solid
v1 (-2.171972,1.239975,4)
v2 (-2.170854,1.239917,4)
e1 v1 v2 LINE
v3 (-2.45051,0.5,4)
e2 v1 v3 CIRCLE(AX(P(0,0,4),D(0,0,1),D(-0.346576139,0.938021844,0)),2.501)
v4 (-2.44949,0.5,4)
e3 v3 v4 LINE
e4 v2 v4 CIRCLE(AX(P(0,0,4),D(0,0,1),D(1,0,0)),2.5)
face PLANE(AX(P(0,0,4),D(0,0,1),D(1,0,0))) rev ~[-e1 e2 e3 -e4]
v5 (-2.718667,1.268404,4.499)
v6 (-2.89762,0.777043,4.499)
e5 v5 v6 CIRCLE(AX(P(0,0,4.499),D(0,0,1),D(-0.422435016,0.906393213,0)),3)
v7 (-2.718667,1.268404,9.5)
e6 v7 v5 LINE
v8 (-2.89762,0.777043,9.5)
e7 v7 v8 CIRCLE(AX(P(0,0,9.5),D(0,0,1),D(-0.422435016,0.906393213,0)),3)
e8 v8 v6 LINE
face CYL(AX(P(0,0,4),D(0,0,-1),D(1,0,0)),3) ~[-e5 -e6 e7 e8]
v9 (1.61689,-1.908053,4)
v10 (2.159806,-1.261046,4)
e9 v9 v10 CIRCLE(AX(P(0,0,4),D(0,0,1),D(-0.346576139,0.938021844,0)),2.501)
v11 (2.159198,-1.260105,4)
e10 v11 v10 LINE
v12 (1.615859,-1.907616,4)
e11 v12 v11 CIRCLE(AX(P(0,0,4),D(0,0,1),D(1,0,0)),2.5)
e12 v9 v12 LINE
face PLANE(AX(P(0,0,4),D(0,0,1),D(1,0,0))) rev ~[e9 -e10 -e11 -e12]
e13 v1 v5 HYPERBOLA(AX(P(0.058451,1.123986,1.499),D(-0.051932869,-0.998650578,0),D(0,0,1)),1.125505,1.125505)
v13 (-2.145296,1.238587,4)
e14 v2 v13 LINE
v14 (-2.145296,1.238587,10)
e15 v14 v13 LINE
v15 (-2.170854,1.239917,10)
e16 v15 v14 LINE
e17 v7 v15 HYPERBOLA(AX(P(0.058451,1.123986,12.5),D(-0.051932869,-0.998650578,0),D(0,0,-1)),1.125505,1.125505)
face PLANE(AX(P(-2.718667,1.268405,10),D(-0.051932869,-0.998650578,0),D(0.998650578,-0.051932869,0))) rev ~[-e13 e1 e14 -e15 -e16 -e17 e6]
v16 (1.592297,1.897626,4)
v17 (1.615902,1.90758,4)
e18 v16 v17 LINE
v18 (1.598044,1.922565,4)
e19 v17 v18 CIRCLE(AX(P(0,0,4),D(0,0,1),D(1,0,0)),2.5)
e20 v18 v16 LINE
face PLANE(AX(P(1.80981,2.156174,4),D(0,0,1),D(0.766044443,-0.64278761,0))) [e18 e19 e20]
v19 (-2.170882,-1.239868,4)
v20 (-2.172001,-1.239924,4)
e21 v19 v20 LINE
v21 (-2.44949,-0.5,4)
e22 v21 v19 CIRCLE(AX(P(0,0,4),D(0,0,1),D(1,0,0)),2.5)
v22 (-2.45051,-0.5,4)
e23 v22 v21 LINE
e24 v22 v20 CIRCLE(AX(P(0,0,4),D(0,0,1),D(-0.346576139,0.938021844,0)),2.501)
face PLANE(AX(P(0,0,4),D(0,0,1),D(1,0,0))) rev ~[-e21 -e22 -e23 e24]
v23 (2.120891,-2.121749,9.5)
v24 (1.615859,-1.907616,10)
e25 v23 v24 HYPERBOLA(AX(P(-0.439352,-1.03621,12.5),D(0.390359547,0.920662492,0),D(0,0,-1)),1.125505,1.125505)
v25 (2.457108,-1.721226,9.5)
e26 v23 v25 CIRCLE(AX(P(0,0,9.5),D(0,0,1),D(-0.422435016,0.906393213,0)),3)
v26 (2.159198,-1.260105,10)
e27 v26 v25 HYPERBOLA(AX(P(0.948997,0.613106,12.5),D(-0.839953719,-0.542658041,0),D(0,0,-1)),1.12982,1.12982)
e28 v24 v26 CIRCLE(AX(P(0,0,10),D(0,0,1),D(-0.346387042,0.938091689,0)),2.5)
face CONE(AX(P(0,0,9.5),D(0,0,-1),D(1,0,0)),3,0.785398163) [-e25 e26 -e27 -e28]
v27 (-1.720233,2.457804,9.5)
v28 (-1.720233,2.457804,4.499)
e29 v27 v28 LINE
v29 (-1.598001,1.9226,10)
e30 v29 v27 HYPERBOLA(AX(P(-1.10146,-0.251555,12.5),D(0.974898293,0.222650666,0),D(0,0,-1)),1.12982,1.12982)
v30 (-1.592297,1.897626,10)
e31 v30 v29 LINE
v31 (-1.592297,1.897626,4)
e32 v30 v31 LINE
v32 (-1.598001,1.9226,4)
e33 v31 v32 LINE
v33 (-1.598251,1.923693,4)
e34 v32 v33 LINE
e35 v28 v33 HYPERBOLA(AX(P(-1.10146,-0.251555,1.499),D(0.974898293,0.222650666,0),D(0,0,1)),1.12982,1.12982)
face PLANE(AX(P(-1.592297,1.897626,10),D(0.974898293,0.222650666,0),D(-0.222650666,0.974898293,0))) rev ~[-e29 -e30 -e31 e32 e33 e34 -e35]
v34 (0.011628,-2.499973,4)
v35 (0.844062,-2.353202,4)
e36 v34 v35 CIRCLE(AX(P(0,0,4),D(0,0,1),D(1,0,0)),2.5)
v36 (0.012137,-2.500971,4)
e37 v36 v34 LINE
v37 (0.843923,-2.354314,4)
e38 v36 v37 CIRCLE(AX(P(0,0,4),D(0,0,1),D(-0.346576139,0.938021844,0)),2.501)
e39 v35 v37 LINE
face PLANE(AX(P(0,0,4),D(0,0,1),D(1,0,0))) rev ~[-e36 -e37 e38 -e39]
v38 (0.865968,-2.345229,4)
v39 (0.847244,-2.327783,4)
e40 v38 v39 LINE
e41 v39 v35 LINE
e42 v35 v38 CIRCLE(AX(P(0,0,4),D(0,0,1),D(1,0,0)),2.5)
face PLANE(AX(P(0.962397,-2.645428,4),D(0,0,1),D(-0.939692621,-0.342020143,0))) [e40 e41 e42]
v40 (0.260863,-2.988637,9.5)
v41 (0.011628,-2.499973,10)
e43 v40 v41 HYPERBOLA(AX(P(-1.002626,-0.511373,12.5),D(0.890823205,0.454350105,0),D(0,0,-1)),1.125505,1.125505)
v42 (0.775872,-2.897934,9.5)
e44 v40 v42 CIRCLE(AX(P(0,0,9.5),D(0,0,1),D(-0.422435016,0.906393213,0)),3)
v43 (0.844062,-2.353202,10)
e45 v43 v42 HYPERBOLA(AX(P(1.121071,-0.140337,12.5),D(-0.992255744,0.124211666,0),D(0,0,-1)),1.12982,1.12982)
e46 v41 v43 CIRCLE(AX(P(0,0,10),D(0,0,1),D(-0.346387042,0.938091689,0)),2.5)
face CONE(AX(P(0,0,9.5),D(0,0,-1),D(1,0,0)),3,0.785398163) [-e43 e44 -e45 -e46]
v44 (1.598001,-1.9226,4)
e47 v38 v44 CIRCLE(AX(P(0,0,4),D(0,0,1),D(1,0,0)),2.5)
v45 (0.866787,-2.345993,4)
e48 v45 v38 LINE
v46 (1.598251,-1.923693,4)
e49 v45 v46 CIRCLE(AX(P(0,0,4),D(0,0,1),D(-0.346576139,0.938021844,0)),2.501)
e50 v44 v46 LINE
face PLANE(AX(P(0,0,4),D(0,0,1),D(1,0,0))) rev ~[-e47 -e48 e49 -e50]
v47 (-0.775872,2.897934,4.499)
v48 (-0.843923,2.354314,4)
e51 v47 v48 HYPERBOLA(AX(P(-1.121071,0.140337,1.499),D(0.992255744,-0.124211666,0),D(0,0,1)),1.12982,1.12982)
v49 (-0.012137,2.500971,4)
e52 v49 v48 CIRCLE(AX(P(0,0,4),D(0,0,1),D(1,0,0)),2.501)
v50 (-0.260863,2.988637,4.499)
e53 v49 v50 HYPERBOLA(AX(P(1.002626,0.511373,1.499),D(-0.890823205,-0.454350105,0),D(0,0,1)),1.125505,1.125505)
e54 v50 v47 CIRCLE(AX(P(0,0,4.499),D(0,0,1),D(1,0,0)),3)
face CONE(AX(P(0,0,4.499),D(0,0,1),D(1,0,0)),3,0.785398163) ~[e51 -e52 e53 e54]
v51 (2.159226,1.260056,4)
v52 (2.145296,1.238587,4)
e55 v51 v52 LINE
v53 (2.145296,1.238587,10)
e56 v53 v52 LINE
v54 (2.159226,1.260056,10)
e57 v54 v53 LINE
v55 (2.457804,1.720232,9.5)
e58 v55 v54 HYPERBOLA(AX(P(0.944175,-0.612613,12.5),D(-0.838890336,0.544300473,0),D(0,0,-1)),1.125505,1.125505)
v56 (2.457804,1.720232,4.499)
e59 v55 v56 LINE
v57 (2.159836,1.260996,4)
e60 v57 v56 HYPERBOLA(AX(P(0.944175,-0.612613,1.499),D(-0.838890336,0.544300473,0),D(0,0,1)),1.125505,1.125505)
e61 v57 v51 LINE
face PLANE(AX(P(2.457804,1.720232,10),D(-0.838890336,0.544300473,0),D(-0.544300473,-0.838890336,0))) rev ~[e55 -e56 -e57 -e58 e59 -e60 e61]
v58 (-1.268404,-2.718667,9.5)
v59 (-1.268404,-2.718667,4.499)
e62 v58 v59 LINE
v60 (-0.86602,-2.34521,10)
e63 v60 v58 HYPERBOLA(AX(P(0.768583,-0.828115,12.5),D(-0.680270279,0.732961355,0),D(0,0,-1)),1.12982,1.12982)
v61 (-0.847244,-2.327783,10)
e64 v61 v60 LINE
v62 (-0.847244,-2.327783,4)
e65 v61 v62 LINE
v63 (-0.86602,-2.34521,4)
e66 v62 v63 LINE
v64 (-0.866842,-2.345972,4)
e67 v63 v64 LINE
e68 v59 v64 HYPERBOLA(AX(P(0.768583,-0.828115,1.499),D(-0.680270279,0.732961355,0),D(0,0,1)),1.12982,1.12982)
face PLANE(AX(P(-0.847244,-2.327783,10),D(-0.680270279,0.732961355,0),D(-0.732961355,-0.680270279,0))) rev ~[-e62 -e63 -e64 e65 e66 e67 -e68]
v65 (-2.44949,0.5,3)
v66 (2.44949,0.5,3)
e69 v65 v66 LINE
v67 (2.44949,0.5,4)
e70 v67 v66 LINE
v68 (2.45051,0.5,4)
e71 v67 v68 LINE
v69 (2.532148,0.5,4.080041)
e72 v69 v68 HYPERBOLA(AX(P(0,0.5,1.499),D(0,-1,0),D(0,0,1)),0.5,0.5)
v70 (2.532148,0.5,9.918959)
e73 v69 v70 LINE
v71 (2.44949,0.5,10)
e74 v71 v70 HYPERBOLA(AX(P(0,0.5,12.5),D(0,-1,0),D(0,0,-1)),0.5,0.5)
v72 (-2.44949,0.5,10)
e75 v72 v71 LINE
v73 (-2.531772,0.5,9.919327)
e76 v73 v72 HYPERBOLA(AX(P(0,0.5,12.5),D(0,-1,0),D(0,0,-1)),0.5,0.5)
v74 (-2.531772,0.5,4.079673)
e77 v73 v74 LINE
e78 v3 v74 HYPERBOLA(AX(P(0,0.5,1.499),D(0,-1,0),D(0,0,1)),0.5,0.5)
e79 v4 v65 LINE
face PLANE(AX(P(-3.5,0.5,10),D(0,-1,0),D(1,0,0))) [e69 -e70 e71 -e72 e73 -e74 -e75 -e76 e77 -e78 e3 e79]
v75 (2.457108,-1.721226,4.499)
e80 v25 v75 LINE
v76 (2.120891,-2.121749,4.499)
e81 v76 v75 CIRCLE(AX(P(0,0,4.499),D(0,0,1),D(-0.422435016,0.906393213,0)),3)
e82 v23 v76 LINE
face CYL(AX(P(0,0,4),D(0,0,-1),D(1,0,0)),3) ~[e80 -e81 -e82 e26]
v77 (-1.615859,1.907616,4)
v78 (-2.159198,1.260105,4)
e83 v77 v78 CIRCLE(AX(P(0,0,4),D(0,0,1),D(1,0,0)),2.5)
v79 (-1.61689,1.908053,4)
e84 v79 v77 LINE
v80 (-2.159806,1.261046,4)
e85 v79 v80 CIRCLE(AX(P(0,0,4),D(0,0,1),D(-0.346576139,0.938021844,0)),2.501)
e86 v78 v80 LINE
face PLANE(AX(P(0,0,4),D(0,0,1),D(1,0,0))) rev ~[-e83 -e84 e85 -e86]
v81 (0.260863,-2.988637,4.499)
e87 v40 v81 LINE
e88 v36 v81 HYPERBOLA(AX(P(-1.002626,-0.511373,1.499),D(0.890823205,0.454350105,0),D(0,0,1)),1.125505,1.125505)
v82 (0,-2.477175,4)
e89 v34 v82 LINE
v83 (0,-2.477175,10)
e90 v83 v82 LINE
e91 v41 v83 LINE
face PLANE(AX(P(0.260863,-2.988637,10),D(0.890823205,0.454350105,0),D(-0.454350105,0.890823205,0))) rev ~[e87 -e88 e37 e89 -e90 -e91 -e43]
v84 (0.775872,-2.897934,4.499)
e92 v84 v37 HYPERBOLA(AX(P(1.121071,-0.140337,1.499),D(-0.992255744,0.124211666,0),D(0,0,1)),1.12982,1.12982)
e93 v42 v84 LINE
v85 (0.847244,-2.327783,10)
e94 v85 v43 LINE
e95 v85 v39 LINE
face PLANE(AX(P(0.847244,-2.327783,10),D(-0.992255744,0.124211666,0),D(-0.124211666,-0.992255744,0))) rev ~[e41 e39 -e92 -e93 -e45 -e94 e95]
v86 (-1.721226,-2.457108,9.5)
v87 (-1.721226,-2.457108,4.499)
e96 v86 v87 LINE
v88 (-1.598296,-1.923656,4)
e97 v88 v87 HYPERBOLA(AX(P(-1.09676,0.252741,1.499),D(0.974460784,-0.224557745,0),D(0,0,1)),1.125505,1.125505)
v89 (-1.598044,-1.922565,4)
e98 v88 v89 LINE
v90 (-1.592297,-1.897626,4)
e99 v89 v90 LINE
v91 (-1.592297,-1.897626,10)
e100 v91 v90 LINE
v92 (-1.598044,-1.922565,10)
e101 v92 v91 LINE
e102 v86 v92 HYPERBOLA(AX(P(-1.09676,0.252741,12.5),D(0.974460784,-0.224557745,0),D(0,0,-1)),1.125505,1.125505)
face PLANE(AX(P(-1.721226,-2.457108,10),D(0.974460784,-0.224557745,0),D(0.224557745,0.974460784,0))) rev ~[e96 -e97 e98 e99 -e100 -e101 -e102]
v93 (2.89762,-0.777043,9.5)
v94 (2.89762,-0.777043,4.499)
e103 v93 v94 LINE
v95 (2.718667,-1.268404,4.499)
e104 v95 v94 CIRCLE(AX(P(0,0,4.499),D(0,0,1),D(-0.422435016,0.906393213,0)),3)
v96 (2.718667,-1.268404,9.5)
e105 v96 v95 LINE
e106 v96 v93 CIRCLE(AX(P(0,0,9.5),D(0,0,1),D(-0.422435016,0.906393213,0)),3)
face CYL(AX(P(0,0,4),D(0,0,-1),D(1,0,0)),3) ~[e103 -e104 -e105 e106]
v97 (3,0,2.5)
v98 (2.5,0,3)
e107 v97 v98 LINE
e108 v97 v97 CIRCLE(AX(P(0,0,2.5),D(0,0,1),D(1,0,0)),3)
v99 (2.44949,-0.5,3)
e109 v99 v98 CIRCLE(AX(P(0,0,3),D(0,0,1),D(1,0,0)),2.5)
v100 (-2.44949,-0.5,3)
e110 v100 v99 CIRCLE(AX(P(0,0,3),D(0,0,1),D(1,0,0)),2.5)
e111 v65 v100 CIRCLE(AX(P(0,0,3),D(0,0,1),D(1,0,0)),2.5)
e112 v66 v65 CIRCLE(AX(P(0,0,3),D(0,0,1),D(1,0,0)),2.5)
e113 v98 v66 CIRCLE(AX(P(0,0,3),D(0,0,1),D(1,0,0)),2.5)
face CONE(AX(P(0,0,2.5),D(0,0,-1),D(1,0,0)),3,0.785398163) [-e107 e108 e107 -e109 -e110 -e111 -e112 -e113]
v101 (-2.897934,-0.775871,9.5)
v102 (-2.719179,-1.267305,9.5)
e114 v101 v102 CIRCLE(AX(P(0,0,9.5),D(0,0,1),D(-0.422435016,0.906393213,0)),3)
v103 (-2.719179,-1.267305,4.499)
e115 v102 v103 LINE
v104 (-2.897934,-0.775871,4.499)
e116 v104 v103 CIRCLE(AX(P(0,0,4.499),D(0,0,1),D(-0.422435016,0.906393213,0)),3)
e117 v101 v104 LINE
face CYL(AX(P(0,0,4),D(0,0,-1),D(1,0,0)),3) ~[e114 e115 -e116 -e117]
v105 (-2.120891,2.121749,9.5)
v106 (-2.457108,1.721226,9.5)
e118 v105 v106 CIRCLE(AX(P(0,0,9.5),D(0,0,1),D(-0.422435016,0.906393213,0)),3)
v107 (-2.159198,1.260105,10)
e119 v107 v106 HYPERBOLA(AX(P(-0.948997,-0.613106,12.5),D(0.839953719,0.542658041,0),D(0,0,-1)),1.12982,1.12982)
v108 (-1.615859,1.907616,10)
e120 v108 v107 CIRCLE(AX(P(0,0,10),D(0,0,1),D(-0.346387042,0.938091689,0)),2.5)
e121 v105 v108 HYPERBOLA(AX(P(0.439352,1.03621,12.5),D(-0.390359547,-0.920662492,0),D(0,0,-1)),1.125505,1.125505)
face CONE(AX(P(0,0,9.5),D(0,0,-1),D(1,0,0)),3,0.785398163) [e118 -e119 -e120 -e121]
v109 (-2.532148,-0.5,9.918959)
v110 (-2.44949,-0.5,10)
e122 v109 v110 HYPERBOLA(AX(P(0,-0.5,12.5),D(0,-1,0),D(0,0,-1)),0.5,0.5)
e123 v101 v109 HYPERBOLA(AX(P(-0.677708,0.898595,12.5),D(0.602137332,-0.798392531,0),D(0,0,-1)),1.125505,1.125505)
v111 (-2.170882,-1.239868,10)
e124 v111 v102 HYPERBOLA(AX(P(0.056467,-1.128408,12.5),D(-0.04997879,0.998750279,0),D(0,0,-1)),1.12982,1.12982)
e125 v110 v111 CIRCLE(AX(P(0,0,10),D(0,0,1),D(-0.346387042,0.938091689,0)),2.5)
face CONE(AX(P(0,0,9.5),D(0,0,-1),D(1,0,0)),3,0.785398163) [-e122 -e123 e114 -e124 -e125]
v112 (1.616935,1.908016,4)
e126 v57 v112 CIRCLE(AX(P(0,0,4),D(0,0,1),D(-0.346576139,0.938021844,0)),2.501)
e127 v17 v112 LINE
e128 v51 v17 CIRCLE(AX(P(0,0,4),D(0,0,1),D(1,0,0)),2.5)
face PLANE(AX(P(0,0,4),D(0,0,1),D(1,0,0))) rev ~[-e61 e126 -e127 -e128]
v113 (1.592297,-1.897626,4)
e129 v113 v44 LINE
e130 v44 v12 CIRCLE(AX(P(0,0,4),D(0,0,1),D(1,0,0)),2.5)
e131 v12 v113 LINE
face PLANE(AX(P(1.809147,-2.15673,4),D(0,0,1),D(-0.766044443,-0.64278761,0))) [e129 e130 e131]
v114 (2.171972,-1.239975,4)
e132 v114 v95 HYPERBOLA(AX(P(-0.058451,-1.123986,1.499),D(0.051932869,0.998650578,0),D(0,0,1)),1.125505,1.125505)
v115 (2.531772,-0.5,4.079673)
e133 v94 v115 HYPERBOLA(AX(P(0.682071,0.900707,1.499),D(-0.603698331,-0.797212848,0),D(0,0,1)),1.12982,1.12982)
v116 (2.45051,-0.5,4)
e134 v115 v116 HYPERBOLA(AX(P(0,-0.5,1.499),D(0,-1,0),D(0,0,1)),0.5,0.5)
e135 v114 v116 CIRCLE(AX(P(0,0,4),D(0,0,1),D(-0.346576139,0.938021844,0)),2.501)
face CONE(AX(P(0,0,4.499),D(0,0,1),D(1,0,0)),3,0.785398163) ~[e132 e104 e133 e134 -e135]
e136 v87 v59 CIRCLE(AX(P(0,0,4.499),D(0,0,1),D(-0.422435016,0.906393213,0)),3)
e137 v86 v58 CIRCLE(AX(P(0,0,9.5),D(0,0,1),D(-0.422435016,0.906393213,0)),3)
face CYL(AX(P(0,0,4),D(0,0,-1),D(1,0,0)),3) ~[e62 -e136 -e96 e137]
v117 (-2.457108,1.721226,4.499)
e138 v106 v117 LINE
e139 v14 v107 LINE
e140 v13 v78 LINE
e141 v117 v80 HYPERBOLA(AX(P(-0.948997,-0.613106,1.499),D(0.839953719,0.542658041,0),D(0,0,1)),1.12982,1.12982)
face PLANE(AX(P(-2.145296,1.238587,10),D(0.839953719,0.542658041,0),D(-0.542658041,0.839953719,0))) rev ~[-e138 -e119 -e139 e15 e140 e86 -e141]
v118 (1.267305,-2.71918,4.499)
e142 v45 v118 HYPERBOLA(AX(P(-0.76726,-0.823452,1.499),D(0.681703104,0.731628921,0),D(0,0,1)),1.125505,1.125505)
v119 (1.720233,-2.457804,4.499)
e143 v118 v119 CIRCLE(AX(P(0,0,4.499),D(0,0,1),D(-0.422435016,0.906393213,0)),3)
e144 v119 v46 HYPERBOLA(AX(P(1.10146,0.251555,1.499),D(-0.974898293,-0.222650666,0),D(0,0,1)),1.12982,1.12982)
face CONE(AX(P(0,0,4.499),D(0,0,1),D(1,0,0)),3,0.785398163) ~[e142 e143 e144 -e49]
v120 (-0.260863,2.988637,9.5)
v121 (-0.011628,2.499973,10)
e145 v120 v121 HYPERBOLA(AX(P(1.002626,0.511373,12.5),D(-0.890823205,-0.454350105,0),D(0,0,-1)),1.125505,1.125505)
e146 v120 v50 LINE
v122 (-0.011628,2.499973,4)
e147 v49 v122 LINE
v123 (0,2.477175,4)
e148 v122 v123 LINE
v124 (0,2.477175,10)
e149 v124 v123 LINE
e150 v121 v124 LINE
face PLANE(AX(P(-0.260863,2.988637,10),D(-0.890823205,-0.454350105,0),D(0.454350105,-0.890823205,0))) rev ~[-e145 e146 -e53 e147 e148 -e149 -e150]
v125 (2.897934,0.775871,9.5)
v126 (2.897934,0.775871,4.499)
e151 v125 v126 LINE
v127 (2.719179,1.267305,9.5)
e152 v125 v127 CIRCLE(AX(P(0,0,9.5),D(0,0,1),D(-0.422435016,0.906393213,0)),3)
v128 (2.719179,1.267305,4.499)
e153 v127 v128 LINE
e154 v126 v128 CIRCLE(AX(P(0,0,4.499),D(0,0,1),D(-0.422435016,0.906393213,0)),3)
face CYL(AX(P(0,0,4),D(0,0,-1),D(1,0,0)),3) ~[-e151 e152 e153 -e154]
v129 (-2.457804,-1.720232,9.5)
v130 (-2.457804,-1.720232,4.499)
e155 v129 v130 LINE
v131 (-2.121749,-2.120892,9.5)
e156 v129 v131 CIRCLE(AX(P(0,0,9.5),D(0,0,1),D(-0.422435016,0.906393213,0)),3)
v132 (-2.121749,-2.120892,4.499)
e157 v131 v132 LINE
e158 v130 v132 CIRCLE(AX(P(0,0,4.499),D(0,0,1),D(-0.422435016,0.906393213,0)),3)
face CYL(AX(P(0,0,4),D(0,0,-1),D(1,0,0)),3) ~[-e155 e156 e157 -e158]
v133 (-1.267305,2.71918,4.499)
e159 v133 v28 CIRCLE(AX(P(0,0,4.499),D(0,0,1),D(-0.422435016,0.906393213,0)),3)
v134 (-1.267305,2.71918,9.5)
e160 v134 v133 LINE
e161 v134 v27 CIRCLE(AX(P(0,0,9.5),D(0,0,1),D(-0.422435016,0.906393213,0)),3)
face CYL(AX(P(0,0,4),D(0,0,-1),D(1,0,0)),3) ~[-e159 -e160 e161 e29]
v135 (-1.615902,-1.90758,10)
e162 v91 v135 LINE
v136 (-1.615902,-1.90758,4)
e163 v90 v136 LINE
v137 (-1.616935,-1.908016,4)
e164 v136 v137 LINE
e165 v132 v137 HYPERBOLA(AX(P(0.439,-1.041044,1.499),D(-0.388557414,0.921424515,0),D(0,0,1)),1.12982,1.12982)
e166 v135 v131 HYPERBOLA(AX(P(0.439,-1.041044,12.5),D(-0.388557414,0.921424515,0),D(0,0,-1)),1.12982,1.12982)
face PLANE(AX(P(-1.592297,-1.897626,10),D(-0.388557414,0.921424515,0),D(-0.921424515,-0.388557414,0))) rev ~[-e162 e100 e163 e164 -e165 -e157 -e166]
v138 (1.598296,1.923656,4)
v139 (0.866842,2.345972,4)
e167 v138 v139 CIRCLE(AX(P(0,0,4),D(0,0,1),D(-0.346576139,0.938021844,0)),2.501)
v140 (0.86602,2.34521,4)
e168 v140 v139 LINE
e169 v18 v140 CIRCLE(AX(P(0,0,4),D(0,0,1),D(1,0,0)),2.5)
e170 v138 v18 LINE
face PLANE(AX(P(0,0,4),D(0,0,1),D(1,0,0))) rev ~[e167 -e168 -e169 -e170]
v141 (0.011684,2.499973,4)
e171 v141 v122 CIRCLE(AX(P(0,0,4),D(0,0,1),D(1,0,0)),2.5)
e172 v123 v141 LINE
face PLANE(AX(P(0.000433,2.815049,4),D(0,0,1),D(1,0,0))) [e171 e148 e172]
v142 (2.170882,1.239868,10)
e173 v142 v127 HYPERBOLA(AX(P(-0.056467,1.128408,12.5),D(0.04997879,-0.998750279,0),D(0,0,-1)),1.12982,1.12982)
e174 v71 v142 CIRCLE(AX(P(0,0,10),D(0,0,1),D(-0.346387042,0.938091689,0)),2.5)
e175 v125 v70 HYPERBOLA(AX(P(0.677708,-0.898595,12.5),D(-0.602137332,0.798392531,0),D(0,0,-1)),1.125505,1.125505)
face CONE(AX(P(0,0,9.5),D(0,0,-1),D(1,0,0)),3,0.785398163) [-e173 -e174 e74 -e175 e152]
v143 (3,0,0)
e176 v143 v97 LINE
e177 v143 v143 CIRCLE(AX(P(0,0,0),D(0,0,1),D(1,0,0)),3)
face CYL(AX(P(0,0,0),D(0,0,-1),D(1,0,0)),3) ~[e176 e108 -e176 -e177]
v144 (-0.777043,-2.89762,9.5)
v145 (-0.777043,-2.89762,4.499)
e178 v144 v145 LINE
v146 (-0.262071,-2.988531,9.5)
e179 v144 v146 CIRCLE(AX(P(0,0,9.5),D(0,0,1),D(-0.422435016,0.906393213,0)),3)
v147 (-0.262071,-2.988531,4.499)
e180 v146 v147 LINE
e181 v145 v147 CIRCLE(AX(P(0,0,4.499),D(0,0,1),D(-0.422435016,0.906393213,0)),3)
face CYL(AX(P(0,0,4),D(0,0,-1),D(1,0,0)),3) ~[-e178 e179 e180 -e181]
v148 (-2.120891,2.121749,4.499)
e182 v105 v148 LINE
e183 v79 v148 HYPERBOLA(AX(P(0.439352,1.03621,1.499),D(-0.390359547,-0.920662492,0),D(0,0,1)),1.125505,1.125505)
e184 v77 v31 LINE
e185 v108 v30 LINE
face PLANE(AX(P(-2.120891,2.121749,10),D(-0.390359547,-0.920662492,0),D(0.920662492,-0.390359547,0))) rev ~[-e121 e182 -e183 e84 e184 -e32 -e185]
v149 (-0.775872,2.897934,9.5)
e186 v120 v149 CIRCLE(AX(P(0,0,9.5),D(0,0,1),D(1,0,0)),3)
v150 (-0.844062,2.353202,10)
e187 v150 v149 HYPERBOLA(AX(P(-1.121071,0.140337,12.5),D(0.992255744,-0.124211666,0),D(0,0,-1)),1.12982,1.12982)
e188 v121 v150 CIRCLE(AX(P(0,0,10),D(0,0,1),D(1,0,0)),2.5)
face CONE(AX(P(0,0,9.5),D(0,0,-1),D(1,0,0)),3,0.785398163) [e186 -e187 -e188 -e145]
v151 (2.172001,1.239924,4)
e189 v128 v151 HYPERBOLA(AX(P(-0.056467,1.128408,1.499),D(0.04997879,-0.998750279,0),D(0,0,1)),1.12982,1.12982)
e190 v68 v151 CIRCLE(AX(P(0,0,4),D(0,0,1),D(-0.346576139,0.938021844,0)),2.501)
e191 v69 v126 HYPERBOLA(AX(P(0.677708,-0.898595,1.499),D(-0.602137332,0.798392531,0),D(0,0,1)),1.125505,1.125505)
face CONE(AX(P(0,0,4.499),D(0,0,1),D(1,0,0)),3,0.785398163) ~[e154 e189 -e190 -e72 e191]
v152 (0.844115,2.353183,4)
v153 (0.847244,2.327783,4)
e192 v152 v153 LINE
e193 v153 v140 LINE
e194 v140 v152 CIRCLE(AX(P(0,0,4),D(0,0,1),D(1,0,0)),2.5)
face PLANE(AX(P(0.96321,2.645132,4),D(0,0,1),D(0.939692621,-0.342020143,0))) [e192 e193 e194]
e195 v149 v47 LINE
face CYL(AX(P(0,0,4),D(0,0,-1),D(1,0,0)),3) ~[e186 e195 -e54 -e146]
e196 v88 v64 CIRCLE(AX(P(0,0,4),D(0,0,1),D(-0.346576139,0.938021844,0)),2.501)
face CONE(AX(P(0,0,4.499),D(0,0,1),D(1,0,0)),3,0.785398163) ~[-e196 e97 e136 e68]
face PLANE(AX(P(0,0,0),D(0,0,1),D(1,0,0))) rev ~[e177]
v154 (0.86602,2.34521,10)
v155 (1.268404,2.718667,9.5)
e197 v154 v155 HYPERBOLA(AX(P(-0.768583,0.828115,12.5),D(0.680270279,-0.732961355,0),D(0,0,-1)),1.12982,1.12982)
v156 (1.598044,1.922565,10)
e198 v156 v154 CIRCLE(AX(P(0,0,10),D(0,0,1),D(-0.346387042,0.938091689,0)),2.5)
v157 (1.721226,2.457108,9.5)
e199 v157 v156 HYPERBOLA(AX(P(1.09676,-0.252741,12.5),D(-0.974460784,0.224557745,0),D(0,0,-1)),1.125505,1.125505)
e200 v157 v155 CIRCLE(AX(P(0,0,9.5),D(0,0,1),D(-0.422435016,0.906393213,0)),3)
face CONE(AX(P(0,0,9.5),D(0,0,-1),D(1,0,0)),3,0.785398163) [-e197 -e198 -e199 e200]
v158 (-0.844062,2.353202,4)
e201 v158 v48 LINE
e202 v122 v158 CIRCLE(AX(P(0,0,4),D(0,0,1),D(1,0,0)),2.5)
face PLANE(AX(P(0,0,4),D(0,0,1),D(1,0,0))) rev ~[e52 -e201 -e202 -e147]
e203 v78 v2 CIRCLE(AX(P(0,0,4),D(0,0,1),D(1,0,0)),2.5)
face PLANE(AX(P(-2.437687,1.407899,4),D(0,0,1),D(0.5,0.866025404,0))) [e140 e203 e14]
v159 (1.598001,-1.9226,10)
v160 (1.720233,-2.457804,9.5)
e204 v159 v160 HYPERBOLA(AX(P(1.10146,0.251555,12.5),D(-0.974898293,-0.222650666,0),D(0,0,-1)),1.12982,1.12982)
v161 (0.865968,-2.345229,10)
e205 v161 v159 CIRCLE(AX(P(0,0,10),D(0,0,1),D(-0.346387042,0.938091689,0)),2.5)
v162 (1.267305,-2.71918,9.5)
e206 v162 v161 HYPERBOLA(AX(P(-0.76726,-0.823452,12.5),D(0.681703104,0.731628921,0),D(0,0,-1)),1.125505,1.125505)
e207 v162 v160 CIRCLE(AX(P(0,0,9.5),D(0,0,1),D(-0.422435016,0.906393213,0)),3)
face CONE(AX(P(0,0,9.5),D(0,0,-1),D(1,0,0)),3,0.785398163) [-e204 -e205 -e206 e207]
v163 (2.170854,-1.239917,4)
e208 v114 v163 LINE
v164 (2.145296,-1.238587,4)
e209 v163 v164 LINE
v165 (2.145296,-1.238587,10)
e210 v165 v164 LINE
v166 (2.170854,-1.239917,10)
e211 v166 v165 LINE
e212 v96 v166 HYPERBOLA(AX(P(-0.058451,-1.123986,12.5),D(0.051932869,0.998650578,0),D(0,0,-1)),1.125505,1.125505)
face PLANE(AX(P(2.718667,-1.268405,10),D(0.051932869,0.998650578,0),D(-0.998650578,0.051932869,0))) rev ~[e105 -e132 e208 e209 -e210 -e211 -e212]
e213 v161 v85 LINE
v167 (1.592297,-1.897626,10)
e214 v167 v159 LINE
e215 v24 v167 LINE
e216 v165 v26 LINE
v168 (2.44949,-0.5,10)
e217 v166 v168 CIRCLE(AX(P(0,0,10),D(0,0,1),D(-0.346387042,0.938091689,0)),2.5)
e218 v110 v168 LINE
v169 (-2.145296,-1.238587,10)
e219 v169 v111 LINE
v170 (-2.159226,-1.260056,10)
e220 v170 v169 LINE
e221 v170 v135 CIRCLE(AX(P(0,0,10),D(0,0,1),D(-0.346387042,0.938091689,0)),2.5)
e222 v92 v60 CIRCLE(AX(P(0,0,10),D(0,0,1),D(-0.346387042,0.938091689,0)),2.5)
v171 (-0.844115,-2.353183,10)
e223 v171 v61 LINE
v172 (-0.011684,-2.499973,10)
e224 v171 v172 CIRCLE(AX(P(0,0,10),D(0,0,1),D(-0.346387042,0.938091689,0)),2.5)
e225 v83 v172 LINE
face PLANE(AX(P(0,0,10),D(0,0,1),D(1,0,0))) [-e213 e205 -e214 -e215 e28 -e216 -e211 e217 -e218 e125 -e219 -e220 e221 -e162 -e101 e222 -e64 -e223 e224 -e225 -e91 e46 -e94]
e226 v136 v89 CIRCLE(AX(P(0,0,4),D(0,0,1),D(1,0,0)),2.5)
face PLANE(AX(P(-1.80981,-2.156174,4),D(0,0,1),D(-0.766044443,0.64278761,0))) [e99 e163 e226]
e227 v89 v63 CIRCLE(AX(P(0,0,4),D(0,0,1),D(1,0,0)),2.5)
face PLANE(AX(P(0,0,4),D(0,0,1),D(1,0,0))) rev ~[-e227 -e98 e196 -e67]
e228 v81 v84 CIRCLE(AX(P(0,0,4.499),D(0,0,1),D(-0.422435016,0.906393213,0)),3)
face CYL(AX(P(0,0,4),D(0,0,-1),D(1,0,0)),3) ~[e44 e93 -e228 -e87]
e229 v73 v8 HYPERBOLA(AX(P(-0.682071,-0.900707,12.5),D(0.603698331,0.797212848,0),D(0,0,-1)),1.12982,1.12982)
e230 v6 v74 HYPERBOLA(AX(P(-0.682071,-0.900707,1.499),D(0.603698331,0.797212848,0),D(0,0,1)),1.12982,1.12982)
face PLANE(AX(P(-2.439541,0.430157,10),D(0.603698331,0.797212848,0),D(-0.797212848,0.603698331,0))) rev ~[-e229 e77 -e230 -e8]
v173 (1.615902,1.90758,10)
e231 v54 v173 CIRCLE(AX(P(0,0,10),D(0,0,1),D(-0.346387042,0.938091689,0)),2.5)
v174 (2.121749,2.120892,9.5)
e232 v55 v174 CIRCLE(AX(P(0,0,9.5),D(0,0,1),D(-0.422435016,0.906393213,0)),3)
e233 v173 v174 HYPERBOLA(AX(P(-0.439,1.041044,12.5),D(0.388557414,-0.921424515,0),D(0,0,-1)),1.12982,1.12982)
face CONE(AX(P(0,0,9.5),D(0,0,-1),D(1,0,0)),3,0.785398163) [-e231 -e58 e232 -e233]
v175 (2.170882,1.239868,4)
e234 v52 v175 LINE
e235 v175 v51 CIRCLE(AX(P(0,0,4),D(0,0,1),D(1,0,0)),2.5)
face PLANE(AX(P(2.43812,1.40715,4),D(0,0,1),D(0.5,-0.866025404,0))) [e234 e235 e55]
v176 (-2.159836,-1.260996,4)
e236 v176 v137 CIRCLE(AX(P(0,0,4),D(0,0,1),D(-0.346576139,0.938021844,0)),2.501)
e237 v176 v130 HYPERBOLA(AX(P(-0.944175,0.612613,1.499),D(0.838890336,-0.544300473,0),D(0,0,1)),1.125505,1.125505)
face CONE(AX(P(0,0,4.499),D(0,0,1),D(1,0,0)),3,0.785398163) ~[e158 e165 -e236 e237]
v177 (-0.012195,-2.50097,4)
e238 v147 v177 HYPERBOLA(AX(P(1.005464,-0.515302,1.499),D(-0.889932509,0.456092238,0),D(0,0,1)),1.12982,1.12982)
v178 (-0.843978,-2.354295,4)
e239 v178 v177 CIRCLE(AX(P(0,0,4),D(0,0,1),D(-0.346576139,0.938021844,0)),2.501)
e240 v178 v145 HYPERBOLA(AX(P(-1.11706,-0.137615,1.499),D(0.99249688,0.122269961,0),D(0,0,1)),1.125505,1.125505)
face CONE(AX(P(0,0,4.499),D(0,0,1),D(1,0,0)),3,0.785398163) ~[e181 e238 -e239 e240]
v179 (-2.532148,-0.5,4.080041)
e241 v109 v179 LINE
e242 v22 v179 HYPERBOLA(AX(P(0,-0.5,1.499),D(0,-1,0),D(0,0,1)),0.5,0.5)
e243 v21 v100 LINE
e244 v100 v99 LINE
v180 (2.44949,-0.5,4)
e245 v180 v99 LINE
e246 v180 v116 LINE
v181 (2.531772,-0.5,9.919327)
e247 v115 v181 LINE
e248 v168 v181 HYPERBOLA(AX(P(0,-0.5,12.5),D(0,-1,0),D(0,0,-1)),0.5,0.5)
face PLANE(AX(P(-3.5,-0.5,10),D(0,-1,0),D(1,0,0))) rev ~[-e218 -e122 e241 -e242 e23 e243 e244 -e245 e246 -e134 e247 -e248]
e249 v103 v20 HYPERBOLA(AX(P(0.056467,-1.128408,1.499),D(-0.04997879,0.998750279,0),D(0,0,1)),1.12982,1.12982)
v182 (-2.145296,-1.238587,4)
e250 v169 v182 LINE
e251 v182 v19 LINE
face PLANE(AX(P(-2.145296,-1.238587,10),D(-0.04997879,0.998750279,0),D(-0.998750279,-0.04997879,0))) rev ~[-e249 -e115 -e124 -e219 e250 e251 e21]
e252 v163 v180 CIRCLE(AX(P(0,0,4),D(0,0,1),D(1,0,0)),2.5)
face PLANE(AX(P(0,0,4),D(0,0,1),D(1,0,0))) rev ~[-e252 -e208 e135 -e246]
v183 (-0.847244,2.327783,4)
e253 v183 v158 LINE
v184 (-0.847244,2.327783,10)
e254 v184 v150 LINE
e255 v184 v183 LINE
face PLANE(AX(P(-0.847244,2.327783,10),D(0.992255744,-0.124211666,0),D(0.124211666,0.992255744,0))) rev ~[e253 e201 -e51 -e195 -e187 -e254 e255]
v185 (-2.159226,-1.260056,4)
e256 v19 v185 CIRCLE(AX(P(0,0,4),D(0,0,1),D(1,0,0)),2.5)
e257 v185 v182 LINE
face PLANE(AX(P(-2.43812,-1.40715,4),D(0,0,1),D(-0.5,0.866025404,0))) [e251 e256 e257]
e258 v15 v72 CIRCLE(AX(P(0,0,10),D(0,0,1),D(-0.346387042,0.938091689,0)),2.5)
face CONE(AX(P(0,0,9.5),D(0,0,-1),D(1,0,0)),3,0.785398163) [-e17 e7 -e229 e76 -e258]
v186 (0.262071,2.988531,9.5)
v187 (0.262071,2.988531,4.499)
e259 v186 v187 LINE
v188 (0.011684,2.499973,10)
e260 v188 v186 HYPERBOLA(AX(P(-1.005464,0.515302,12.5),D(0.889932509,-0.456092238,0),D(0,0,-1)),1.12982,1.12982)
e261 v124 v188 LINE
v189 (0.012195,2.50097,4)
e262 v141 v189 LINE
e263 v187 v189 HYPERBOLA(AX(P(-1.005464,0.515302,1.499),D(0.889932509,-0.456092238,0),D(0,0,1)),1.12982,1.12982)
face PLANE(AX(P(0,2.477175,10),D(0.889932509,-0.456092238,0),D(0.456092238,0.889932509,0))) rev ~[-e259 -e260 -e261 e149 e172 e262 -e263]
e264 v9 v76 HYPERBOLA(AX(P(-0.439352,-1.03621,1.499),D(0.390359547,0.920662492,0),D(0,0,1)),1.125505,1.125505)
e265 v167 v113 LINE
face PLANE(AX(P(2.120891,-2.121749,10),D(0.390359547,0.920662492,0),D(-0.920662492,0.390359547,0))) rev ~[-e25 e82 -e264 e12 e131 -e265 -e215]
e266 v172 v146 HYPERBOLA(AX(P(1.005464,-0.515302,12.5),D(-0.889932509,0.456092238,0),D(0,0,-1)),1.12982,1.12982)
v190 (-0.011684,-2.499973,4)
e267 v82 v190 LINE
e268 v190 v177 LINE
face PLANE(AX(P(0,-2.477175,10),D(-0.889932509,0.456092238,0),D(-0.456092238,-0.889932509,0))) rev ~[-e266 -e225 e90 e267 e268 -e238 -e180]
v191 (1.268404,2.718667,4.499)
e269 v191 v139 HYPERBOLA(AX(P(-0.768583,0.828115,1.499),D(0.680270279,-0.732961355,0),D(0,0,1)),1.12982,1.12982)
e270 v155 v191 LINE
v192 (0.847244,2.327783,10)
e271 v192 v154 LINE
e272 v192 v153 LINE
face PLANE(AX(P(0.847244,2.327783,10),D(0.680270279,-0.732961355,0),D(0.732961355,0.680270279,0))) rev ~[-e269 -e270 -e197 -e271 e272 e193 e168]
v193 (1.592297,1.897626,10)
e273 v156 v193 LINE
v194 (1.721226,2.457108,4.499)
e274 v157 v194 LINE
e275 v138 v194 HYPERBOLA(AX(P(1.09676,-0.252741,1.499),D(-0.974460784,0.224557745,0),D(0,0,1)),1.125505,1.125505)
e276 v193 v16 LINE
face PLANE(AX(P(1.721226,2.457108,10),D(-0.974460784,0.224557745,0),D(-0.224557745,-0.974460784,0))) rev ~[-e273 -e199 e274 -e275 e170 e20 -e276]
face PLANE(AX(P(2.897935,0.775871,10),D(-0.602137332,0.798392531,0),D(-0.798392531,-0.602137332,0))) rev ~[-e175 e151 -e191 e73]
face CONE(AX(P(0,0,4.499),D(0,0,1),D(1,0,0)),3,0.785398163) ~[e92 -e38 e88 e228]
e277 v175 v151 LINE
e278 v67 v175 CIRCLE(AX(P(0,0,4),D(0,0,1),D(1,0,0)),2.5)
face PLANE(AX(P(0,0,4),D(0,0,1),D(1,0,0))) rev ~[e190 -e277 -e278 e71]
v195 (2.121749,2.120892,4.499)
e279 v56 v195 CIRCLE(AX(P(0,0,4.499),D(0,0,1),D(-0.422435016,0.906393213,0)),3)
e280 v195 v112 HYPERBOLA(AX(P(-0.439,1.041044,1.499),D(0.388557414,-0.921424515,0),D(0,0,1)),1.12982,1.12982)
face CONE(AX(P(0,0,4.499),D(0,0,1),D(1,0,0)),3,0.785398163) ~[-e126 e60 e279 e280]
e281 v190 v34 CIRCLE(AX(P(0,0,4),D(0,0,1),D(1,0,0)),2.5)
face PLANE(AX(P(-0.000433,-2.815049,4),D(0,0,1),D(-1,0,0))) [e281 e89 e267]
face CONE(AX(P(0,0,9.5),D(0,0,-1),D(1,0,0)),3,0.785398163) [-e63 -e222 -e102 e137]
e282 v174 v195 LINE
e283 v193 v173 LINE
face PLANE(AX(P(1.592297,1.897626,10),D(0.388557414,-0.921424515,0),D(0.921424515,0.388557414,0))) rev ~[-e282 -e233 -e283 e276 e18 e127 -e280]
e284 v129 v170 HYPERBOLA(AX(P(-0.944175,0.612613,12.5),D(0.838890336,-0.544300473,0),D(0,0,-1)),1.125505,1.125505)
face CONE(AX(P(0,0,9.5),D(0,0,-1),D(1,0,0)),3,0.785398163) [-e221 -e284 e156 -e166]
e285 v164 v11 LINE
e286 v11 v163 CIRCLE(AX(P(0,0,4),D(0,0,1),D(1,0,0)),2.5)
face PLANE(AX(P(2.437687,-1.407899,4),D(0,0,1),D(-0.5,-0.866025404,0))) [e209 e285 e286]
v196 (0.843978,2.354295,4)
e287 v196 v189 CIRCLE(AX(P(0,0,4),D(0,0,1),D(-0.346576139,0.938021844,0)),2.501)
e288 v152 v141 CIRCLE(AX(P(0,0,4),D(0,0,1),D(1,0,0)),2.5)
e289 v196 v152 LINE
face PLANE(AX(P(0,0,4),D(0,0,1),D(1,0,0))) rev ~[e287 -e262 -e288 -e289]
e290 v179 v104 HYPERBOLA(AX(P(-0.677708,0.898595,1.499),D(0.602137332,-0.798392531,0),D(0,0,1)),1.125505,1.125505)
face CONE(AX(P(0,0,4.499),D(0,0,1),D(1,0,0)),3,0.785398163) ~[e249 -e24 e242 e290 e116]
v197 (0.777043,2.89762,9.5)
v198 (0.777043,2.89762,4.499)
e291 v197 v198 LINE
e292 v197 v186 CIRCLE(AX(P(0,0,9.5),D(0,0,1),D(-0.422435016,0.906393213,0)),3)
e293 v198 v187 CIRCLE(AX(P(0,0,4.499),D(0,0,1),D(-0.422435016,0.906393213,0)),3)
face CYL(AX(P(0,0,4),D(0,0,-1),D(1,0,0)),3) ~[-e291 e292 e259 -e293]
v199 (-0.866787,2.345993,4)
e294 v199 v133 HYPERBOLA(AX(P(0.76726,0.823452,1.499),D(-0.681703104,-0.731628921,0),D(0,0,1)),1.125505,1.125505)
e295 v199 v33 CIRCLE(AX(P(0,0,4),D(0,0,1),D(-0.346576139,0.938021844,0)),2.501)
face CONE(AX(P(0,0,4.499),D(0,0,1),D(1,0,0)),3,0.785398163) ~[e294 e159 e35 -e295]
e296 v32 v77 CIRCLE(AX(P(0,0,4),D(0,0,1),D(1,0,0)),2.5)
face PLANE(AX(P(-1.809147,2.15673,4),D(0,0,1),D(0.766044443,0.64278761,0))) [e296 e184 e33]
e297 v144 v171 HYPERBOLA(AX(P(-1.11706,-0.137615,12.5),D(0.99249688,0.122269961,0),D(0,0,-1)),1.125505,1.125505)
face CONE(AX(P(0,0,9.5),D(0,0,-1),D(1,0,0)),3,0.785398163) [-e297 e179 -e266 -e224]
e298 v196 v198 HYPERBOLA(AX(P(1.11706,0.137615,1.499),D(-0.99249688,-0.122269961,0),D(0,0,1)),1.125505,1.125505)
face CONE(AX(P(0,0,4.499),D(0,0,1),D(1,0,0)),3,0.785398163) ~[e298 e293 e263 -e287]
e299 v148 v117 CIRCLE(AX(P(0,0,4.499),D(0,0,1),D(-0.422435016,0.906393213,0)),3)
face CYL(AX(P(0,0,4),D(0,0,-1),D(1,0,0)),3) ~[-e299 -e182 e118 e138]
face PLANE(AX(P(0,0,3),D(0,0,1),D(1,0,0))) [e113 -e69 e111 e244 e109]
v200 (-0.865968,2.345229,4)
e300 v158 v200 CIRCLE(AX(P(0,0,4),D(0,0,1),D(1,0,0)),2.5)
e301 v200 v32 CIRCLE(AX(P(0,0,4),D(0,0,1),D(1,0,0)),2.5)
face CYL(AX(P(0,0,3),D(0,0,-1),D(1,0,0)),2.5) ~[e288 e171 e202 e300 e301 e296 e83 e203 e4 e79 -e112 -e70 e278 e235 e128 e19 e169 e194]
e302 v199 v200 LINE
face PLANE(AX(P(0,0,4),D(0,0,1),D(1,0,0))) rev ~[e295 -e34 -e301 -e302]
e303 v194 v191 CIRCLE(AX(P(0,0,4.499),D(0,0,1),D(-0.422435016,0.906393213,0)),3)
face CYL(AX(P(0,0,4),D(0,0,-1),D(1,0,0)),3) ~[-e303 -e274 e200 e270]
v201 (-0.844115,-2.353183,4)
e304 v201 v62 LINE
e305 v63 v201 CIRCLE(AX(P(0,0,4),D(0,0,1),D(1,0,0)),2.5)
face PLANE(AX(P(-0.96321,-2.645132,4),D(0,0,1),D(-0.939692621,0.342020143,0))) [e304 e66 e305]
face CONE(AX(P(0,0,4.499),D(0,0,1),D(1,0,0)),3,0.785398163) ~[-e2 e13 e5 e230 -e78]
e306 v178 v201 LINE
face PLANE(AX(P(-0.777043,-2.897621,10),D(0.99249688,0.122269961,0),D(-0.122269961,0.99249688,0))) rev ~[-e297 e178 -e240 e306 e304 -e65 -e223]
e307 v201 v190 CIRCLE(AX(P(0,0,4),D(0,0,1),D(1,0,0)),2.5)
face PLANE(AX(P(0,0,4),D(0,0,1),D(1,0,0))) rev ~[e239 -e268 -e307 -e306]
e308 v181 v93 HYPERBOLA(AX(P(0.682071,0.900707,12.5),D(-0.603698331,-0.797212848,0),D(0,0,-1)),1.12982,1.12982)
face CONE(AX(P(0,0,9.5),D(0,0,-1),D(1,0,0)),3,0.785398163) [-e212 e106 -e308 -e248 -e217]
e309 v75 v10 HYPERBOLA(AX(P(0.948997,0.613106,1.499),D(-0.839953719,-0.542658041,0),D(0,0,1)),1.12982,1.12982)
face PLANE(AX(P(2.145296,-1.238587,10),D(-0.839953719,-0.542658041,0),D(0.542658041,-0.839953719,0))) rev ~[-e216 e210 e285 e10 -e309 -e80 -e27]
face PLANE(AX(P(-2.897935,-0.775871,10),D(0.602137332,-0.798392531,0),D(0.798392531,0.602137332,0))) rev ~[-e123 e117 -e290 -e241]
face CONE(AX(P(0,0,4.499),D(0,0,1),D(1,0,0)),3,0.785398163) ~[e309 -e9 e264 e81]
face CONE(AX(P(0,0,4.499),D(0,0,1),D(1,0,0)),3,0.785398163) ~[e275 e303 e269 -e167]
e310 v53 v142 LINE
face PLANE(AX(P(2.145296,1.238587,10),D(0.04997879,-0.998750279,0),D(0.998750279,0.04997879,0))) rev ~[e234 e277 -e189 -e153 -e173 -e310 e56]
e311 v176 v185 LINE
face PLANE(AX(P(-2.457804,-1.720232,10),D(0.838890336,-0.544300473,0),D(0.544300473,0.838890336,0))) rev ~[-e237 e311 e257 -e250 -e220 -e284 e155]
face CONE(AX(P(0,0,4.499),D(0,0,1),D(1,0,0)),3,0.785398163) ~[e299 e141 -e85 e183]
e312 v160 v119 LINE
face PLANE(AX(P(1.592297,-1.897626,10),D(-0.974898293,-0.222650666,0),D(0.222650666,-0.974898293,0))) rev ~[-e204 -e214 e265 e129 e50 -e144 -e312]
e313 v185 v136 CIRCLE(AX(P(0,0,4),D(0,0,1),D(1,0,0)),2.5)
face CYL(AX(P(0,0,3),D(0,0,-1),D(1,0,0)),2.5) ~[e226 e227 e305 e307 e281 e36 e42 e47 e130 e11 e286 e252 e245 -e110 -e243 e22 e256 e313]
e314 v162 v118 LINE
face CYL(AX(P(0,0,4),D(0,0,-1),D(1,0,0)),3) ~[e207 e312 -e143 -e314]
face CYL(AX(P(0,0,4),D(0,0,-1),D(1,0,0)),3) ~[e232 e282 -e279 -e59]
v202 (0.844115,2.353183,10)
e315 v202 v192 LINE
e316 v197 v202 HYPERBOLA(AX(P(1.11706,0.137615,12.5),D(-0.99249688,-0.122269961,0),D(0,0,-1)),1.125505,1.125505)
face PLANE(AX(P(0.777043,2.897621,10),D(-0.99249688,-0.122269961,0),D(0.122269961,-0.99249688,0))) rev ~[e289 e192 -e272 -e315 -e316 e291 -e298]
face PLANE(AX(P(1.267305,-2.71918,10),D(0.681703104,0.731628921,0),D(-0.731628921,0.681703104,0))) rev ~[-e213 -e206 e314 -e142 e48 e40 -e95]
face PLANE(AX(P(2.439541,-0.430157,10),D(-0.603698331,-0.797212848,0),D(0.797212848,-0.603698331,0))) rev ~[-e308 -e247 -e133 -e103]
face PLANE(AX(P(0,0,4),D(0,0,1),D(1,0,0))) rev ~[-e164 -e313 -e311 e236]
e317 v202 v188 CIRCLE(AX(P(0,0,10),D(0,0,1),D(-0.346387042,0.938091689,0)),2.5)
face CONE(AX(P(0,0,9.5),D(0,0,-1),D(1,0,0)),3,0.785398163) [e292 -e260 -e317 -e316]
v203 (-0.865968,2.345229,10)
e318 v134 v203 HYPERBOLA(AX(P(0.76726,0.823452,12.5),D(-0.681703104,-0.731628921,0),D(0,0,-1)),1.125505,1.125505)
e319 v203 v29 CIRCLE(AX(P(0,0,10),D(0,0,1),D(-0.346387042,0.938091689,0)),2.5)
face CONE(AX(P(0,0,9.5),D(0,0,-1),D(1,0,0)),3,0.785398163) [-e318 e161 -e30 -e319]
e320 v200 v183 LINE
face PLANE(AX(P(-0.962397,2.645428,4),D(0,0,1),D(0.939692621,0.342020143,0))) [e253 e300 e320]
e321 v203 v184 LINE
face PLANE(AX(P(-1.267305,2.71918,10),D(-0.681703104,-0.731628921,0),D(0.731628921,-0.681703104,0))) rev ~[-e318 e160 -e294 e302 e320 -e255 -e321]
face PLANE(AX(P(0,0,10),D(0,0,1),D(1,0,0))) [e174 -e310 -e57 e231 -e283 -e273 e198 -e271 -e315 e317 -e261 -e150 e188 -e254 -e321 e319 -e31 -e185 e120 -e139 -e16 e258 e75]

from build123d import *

# Parameters (mm, degrees)
SKETCH_R           = 3
PAD_DEPTH          = 3
CHAMFER_SIZE       = 0.5
SKETCH001_R        = 2.5
PAD001_DEPTH       = 1
SKETCH002_R        = 3
PAD002_DEPTH       = 6
CHAMFER001_SIZE    = 0.499
CHAMFER002_SIZE    = 0.5
POCKET_DEPTH       = 6
POLARPATTERN_COUNT = 18
SKETCH004_W        = 7
SKETCH004_H        = 1
POCKET001_DEPTH    = 7


with BuildPart() as part:
    # Sketch → Pad (new body)
    with BuildSketch(Plane.XY):
        Circle(SKETCH_R)
    extrude(amount=PAD_DEPTH)

    # Chamfer
    chamfer_edges = [part.edges().sort_by_distance(p)[0] for p in [
        (-3, 0, 3),
    ]]
    chamfer(chamfer_edges, length=CHAMFER_SIZE)

    # Sketch001 → Pad001 (join)
    with BuildSketch(Plane.XY.offset(3)):
        Circle(SKETCH001_R)
    extrude(amount=PAD001_DEPTH)

    # Sketch002 → Pad002 (join)
    with BuildSketch(Plane.XY.offset(4)):
        Circle(SKETCH002_R)
    extrude(amount=PAD002_DEPTH)

    # Chamfer001
    chamfer001_edges = [part.edges().sort_by_distance(p)[0] for p in [
        (-3, 0, 4),
    ]]
    chamfer(chamfer001_edges, length=CHAMFER001_SIZE)

    # Chamfer002
    chamfer002_edges = [part.edges().sort_by_distance(p)[0] for p in [
        (-3, 0, 10),
    ]]
    chamfer(chamfer002_edges, length=CHAMFER002_SIZE)

    # Sketch003 → Pocket (cut)
    with BuildSketch(Plane.XY.offset(10)):
        with BuildLine():
            ThreePointArc((0.262071, 2.988531), (0.000606, 3), (-0.260863, 2.988637))
            Line((-0.260863, 2.988637), (0, 2.477175))
            Line((0, 2.477175), (0.262071, 2.988531))
        make_face()
    pocket = extrude(amount=-POCKET_DEPTH, mode=Mode.SUBTRACT)

    # PolarPattern: Pocket ×18 about axis
    polarpattern_axis = Axis((0, 0, 10), (0, 0, 1))
    for i in range(1, POLARPATTERN_COUNT):
        add(pocket.rotate(polarpattern_axis, i * 360 / POLARPATTERN_COUNT), mode=Mode.SUBTRACT)

    # Sketch004 → Pocket001 (cut)
    with BuildSketch(Plane.XY.offset(10)):
        Rectangle(SKETCH004_W, SKETCH004_H)
    extrude(amount=-POCKET001_DEPTH, mode=Mode.SUBTRACT)


solid = part.part
